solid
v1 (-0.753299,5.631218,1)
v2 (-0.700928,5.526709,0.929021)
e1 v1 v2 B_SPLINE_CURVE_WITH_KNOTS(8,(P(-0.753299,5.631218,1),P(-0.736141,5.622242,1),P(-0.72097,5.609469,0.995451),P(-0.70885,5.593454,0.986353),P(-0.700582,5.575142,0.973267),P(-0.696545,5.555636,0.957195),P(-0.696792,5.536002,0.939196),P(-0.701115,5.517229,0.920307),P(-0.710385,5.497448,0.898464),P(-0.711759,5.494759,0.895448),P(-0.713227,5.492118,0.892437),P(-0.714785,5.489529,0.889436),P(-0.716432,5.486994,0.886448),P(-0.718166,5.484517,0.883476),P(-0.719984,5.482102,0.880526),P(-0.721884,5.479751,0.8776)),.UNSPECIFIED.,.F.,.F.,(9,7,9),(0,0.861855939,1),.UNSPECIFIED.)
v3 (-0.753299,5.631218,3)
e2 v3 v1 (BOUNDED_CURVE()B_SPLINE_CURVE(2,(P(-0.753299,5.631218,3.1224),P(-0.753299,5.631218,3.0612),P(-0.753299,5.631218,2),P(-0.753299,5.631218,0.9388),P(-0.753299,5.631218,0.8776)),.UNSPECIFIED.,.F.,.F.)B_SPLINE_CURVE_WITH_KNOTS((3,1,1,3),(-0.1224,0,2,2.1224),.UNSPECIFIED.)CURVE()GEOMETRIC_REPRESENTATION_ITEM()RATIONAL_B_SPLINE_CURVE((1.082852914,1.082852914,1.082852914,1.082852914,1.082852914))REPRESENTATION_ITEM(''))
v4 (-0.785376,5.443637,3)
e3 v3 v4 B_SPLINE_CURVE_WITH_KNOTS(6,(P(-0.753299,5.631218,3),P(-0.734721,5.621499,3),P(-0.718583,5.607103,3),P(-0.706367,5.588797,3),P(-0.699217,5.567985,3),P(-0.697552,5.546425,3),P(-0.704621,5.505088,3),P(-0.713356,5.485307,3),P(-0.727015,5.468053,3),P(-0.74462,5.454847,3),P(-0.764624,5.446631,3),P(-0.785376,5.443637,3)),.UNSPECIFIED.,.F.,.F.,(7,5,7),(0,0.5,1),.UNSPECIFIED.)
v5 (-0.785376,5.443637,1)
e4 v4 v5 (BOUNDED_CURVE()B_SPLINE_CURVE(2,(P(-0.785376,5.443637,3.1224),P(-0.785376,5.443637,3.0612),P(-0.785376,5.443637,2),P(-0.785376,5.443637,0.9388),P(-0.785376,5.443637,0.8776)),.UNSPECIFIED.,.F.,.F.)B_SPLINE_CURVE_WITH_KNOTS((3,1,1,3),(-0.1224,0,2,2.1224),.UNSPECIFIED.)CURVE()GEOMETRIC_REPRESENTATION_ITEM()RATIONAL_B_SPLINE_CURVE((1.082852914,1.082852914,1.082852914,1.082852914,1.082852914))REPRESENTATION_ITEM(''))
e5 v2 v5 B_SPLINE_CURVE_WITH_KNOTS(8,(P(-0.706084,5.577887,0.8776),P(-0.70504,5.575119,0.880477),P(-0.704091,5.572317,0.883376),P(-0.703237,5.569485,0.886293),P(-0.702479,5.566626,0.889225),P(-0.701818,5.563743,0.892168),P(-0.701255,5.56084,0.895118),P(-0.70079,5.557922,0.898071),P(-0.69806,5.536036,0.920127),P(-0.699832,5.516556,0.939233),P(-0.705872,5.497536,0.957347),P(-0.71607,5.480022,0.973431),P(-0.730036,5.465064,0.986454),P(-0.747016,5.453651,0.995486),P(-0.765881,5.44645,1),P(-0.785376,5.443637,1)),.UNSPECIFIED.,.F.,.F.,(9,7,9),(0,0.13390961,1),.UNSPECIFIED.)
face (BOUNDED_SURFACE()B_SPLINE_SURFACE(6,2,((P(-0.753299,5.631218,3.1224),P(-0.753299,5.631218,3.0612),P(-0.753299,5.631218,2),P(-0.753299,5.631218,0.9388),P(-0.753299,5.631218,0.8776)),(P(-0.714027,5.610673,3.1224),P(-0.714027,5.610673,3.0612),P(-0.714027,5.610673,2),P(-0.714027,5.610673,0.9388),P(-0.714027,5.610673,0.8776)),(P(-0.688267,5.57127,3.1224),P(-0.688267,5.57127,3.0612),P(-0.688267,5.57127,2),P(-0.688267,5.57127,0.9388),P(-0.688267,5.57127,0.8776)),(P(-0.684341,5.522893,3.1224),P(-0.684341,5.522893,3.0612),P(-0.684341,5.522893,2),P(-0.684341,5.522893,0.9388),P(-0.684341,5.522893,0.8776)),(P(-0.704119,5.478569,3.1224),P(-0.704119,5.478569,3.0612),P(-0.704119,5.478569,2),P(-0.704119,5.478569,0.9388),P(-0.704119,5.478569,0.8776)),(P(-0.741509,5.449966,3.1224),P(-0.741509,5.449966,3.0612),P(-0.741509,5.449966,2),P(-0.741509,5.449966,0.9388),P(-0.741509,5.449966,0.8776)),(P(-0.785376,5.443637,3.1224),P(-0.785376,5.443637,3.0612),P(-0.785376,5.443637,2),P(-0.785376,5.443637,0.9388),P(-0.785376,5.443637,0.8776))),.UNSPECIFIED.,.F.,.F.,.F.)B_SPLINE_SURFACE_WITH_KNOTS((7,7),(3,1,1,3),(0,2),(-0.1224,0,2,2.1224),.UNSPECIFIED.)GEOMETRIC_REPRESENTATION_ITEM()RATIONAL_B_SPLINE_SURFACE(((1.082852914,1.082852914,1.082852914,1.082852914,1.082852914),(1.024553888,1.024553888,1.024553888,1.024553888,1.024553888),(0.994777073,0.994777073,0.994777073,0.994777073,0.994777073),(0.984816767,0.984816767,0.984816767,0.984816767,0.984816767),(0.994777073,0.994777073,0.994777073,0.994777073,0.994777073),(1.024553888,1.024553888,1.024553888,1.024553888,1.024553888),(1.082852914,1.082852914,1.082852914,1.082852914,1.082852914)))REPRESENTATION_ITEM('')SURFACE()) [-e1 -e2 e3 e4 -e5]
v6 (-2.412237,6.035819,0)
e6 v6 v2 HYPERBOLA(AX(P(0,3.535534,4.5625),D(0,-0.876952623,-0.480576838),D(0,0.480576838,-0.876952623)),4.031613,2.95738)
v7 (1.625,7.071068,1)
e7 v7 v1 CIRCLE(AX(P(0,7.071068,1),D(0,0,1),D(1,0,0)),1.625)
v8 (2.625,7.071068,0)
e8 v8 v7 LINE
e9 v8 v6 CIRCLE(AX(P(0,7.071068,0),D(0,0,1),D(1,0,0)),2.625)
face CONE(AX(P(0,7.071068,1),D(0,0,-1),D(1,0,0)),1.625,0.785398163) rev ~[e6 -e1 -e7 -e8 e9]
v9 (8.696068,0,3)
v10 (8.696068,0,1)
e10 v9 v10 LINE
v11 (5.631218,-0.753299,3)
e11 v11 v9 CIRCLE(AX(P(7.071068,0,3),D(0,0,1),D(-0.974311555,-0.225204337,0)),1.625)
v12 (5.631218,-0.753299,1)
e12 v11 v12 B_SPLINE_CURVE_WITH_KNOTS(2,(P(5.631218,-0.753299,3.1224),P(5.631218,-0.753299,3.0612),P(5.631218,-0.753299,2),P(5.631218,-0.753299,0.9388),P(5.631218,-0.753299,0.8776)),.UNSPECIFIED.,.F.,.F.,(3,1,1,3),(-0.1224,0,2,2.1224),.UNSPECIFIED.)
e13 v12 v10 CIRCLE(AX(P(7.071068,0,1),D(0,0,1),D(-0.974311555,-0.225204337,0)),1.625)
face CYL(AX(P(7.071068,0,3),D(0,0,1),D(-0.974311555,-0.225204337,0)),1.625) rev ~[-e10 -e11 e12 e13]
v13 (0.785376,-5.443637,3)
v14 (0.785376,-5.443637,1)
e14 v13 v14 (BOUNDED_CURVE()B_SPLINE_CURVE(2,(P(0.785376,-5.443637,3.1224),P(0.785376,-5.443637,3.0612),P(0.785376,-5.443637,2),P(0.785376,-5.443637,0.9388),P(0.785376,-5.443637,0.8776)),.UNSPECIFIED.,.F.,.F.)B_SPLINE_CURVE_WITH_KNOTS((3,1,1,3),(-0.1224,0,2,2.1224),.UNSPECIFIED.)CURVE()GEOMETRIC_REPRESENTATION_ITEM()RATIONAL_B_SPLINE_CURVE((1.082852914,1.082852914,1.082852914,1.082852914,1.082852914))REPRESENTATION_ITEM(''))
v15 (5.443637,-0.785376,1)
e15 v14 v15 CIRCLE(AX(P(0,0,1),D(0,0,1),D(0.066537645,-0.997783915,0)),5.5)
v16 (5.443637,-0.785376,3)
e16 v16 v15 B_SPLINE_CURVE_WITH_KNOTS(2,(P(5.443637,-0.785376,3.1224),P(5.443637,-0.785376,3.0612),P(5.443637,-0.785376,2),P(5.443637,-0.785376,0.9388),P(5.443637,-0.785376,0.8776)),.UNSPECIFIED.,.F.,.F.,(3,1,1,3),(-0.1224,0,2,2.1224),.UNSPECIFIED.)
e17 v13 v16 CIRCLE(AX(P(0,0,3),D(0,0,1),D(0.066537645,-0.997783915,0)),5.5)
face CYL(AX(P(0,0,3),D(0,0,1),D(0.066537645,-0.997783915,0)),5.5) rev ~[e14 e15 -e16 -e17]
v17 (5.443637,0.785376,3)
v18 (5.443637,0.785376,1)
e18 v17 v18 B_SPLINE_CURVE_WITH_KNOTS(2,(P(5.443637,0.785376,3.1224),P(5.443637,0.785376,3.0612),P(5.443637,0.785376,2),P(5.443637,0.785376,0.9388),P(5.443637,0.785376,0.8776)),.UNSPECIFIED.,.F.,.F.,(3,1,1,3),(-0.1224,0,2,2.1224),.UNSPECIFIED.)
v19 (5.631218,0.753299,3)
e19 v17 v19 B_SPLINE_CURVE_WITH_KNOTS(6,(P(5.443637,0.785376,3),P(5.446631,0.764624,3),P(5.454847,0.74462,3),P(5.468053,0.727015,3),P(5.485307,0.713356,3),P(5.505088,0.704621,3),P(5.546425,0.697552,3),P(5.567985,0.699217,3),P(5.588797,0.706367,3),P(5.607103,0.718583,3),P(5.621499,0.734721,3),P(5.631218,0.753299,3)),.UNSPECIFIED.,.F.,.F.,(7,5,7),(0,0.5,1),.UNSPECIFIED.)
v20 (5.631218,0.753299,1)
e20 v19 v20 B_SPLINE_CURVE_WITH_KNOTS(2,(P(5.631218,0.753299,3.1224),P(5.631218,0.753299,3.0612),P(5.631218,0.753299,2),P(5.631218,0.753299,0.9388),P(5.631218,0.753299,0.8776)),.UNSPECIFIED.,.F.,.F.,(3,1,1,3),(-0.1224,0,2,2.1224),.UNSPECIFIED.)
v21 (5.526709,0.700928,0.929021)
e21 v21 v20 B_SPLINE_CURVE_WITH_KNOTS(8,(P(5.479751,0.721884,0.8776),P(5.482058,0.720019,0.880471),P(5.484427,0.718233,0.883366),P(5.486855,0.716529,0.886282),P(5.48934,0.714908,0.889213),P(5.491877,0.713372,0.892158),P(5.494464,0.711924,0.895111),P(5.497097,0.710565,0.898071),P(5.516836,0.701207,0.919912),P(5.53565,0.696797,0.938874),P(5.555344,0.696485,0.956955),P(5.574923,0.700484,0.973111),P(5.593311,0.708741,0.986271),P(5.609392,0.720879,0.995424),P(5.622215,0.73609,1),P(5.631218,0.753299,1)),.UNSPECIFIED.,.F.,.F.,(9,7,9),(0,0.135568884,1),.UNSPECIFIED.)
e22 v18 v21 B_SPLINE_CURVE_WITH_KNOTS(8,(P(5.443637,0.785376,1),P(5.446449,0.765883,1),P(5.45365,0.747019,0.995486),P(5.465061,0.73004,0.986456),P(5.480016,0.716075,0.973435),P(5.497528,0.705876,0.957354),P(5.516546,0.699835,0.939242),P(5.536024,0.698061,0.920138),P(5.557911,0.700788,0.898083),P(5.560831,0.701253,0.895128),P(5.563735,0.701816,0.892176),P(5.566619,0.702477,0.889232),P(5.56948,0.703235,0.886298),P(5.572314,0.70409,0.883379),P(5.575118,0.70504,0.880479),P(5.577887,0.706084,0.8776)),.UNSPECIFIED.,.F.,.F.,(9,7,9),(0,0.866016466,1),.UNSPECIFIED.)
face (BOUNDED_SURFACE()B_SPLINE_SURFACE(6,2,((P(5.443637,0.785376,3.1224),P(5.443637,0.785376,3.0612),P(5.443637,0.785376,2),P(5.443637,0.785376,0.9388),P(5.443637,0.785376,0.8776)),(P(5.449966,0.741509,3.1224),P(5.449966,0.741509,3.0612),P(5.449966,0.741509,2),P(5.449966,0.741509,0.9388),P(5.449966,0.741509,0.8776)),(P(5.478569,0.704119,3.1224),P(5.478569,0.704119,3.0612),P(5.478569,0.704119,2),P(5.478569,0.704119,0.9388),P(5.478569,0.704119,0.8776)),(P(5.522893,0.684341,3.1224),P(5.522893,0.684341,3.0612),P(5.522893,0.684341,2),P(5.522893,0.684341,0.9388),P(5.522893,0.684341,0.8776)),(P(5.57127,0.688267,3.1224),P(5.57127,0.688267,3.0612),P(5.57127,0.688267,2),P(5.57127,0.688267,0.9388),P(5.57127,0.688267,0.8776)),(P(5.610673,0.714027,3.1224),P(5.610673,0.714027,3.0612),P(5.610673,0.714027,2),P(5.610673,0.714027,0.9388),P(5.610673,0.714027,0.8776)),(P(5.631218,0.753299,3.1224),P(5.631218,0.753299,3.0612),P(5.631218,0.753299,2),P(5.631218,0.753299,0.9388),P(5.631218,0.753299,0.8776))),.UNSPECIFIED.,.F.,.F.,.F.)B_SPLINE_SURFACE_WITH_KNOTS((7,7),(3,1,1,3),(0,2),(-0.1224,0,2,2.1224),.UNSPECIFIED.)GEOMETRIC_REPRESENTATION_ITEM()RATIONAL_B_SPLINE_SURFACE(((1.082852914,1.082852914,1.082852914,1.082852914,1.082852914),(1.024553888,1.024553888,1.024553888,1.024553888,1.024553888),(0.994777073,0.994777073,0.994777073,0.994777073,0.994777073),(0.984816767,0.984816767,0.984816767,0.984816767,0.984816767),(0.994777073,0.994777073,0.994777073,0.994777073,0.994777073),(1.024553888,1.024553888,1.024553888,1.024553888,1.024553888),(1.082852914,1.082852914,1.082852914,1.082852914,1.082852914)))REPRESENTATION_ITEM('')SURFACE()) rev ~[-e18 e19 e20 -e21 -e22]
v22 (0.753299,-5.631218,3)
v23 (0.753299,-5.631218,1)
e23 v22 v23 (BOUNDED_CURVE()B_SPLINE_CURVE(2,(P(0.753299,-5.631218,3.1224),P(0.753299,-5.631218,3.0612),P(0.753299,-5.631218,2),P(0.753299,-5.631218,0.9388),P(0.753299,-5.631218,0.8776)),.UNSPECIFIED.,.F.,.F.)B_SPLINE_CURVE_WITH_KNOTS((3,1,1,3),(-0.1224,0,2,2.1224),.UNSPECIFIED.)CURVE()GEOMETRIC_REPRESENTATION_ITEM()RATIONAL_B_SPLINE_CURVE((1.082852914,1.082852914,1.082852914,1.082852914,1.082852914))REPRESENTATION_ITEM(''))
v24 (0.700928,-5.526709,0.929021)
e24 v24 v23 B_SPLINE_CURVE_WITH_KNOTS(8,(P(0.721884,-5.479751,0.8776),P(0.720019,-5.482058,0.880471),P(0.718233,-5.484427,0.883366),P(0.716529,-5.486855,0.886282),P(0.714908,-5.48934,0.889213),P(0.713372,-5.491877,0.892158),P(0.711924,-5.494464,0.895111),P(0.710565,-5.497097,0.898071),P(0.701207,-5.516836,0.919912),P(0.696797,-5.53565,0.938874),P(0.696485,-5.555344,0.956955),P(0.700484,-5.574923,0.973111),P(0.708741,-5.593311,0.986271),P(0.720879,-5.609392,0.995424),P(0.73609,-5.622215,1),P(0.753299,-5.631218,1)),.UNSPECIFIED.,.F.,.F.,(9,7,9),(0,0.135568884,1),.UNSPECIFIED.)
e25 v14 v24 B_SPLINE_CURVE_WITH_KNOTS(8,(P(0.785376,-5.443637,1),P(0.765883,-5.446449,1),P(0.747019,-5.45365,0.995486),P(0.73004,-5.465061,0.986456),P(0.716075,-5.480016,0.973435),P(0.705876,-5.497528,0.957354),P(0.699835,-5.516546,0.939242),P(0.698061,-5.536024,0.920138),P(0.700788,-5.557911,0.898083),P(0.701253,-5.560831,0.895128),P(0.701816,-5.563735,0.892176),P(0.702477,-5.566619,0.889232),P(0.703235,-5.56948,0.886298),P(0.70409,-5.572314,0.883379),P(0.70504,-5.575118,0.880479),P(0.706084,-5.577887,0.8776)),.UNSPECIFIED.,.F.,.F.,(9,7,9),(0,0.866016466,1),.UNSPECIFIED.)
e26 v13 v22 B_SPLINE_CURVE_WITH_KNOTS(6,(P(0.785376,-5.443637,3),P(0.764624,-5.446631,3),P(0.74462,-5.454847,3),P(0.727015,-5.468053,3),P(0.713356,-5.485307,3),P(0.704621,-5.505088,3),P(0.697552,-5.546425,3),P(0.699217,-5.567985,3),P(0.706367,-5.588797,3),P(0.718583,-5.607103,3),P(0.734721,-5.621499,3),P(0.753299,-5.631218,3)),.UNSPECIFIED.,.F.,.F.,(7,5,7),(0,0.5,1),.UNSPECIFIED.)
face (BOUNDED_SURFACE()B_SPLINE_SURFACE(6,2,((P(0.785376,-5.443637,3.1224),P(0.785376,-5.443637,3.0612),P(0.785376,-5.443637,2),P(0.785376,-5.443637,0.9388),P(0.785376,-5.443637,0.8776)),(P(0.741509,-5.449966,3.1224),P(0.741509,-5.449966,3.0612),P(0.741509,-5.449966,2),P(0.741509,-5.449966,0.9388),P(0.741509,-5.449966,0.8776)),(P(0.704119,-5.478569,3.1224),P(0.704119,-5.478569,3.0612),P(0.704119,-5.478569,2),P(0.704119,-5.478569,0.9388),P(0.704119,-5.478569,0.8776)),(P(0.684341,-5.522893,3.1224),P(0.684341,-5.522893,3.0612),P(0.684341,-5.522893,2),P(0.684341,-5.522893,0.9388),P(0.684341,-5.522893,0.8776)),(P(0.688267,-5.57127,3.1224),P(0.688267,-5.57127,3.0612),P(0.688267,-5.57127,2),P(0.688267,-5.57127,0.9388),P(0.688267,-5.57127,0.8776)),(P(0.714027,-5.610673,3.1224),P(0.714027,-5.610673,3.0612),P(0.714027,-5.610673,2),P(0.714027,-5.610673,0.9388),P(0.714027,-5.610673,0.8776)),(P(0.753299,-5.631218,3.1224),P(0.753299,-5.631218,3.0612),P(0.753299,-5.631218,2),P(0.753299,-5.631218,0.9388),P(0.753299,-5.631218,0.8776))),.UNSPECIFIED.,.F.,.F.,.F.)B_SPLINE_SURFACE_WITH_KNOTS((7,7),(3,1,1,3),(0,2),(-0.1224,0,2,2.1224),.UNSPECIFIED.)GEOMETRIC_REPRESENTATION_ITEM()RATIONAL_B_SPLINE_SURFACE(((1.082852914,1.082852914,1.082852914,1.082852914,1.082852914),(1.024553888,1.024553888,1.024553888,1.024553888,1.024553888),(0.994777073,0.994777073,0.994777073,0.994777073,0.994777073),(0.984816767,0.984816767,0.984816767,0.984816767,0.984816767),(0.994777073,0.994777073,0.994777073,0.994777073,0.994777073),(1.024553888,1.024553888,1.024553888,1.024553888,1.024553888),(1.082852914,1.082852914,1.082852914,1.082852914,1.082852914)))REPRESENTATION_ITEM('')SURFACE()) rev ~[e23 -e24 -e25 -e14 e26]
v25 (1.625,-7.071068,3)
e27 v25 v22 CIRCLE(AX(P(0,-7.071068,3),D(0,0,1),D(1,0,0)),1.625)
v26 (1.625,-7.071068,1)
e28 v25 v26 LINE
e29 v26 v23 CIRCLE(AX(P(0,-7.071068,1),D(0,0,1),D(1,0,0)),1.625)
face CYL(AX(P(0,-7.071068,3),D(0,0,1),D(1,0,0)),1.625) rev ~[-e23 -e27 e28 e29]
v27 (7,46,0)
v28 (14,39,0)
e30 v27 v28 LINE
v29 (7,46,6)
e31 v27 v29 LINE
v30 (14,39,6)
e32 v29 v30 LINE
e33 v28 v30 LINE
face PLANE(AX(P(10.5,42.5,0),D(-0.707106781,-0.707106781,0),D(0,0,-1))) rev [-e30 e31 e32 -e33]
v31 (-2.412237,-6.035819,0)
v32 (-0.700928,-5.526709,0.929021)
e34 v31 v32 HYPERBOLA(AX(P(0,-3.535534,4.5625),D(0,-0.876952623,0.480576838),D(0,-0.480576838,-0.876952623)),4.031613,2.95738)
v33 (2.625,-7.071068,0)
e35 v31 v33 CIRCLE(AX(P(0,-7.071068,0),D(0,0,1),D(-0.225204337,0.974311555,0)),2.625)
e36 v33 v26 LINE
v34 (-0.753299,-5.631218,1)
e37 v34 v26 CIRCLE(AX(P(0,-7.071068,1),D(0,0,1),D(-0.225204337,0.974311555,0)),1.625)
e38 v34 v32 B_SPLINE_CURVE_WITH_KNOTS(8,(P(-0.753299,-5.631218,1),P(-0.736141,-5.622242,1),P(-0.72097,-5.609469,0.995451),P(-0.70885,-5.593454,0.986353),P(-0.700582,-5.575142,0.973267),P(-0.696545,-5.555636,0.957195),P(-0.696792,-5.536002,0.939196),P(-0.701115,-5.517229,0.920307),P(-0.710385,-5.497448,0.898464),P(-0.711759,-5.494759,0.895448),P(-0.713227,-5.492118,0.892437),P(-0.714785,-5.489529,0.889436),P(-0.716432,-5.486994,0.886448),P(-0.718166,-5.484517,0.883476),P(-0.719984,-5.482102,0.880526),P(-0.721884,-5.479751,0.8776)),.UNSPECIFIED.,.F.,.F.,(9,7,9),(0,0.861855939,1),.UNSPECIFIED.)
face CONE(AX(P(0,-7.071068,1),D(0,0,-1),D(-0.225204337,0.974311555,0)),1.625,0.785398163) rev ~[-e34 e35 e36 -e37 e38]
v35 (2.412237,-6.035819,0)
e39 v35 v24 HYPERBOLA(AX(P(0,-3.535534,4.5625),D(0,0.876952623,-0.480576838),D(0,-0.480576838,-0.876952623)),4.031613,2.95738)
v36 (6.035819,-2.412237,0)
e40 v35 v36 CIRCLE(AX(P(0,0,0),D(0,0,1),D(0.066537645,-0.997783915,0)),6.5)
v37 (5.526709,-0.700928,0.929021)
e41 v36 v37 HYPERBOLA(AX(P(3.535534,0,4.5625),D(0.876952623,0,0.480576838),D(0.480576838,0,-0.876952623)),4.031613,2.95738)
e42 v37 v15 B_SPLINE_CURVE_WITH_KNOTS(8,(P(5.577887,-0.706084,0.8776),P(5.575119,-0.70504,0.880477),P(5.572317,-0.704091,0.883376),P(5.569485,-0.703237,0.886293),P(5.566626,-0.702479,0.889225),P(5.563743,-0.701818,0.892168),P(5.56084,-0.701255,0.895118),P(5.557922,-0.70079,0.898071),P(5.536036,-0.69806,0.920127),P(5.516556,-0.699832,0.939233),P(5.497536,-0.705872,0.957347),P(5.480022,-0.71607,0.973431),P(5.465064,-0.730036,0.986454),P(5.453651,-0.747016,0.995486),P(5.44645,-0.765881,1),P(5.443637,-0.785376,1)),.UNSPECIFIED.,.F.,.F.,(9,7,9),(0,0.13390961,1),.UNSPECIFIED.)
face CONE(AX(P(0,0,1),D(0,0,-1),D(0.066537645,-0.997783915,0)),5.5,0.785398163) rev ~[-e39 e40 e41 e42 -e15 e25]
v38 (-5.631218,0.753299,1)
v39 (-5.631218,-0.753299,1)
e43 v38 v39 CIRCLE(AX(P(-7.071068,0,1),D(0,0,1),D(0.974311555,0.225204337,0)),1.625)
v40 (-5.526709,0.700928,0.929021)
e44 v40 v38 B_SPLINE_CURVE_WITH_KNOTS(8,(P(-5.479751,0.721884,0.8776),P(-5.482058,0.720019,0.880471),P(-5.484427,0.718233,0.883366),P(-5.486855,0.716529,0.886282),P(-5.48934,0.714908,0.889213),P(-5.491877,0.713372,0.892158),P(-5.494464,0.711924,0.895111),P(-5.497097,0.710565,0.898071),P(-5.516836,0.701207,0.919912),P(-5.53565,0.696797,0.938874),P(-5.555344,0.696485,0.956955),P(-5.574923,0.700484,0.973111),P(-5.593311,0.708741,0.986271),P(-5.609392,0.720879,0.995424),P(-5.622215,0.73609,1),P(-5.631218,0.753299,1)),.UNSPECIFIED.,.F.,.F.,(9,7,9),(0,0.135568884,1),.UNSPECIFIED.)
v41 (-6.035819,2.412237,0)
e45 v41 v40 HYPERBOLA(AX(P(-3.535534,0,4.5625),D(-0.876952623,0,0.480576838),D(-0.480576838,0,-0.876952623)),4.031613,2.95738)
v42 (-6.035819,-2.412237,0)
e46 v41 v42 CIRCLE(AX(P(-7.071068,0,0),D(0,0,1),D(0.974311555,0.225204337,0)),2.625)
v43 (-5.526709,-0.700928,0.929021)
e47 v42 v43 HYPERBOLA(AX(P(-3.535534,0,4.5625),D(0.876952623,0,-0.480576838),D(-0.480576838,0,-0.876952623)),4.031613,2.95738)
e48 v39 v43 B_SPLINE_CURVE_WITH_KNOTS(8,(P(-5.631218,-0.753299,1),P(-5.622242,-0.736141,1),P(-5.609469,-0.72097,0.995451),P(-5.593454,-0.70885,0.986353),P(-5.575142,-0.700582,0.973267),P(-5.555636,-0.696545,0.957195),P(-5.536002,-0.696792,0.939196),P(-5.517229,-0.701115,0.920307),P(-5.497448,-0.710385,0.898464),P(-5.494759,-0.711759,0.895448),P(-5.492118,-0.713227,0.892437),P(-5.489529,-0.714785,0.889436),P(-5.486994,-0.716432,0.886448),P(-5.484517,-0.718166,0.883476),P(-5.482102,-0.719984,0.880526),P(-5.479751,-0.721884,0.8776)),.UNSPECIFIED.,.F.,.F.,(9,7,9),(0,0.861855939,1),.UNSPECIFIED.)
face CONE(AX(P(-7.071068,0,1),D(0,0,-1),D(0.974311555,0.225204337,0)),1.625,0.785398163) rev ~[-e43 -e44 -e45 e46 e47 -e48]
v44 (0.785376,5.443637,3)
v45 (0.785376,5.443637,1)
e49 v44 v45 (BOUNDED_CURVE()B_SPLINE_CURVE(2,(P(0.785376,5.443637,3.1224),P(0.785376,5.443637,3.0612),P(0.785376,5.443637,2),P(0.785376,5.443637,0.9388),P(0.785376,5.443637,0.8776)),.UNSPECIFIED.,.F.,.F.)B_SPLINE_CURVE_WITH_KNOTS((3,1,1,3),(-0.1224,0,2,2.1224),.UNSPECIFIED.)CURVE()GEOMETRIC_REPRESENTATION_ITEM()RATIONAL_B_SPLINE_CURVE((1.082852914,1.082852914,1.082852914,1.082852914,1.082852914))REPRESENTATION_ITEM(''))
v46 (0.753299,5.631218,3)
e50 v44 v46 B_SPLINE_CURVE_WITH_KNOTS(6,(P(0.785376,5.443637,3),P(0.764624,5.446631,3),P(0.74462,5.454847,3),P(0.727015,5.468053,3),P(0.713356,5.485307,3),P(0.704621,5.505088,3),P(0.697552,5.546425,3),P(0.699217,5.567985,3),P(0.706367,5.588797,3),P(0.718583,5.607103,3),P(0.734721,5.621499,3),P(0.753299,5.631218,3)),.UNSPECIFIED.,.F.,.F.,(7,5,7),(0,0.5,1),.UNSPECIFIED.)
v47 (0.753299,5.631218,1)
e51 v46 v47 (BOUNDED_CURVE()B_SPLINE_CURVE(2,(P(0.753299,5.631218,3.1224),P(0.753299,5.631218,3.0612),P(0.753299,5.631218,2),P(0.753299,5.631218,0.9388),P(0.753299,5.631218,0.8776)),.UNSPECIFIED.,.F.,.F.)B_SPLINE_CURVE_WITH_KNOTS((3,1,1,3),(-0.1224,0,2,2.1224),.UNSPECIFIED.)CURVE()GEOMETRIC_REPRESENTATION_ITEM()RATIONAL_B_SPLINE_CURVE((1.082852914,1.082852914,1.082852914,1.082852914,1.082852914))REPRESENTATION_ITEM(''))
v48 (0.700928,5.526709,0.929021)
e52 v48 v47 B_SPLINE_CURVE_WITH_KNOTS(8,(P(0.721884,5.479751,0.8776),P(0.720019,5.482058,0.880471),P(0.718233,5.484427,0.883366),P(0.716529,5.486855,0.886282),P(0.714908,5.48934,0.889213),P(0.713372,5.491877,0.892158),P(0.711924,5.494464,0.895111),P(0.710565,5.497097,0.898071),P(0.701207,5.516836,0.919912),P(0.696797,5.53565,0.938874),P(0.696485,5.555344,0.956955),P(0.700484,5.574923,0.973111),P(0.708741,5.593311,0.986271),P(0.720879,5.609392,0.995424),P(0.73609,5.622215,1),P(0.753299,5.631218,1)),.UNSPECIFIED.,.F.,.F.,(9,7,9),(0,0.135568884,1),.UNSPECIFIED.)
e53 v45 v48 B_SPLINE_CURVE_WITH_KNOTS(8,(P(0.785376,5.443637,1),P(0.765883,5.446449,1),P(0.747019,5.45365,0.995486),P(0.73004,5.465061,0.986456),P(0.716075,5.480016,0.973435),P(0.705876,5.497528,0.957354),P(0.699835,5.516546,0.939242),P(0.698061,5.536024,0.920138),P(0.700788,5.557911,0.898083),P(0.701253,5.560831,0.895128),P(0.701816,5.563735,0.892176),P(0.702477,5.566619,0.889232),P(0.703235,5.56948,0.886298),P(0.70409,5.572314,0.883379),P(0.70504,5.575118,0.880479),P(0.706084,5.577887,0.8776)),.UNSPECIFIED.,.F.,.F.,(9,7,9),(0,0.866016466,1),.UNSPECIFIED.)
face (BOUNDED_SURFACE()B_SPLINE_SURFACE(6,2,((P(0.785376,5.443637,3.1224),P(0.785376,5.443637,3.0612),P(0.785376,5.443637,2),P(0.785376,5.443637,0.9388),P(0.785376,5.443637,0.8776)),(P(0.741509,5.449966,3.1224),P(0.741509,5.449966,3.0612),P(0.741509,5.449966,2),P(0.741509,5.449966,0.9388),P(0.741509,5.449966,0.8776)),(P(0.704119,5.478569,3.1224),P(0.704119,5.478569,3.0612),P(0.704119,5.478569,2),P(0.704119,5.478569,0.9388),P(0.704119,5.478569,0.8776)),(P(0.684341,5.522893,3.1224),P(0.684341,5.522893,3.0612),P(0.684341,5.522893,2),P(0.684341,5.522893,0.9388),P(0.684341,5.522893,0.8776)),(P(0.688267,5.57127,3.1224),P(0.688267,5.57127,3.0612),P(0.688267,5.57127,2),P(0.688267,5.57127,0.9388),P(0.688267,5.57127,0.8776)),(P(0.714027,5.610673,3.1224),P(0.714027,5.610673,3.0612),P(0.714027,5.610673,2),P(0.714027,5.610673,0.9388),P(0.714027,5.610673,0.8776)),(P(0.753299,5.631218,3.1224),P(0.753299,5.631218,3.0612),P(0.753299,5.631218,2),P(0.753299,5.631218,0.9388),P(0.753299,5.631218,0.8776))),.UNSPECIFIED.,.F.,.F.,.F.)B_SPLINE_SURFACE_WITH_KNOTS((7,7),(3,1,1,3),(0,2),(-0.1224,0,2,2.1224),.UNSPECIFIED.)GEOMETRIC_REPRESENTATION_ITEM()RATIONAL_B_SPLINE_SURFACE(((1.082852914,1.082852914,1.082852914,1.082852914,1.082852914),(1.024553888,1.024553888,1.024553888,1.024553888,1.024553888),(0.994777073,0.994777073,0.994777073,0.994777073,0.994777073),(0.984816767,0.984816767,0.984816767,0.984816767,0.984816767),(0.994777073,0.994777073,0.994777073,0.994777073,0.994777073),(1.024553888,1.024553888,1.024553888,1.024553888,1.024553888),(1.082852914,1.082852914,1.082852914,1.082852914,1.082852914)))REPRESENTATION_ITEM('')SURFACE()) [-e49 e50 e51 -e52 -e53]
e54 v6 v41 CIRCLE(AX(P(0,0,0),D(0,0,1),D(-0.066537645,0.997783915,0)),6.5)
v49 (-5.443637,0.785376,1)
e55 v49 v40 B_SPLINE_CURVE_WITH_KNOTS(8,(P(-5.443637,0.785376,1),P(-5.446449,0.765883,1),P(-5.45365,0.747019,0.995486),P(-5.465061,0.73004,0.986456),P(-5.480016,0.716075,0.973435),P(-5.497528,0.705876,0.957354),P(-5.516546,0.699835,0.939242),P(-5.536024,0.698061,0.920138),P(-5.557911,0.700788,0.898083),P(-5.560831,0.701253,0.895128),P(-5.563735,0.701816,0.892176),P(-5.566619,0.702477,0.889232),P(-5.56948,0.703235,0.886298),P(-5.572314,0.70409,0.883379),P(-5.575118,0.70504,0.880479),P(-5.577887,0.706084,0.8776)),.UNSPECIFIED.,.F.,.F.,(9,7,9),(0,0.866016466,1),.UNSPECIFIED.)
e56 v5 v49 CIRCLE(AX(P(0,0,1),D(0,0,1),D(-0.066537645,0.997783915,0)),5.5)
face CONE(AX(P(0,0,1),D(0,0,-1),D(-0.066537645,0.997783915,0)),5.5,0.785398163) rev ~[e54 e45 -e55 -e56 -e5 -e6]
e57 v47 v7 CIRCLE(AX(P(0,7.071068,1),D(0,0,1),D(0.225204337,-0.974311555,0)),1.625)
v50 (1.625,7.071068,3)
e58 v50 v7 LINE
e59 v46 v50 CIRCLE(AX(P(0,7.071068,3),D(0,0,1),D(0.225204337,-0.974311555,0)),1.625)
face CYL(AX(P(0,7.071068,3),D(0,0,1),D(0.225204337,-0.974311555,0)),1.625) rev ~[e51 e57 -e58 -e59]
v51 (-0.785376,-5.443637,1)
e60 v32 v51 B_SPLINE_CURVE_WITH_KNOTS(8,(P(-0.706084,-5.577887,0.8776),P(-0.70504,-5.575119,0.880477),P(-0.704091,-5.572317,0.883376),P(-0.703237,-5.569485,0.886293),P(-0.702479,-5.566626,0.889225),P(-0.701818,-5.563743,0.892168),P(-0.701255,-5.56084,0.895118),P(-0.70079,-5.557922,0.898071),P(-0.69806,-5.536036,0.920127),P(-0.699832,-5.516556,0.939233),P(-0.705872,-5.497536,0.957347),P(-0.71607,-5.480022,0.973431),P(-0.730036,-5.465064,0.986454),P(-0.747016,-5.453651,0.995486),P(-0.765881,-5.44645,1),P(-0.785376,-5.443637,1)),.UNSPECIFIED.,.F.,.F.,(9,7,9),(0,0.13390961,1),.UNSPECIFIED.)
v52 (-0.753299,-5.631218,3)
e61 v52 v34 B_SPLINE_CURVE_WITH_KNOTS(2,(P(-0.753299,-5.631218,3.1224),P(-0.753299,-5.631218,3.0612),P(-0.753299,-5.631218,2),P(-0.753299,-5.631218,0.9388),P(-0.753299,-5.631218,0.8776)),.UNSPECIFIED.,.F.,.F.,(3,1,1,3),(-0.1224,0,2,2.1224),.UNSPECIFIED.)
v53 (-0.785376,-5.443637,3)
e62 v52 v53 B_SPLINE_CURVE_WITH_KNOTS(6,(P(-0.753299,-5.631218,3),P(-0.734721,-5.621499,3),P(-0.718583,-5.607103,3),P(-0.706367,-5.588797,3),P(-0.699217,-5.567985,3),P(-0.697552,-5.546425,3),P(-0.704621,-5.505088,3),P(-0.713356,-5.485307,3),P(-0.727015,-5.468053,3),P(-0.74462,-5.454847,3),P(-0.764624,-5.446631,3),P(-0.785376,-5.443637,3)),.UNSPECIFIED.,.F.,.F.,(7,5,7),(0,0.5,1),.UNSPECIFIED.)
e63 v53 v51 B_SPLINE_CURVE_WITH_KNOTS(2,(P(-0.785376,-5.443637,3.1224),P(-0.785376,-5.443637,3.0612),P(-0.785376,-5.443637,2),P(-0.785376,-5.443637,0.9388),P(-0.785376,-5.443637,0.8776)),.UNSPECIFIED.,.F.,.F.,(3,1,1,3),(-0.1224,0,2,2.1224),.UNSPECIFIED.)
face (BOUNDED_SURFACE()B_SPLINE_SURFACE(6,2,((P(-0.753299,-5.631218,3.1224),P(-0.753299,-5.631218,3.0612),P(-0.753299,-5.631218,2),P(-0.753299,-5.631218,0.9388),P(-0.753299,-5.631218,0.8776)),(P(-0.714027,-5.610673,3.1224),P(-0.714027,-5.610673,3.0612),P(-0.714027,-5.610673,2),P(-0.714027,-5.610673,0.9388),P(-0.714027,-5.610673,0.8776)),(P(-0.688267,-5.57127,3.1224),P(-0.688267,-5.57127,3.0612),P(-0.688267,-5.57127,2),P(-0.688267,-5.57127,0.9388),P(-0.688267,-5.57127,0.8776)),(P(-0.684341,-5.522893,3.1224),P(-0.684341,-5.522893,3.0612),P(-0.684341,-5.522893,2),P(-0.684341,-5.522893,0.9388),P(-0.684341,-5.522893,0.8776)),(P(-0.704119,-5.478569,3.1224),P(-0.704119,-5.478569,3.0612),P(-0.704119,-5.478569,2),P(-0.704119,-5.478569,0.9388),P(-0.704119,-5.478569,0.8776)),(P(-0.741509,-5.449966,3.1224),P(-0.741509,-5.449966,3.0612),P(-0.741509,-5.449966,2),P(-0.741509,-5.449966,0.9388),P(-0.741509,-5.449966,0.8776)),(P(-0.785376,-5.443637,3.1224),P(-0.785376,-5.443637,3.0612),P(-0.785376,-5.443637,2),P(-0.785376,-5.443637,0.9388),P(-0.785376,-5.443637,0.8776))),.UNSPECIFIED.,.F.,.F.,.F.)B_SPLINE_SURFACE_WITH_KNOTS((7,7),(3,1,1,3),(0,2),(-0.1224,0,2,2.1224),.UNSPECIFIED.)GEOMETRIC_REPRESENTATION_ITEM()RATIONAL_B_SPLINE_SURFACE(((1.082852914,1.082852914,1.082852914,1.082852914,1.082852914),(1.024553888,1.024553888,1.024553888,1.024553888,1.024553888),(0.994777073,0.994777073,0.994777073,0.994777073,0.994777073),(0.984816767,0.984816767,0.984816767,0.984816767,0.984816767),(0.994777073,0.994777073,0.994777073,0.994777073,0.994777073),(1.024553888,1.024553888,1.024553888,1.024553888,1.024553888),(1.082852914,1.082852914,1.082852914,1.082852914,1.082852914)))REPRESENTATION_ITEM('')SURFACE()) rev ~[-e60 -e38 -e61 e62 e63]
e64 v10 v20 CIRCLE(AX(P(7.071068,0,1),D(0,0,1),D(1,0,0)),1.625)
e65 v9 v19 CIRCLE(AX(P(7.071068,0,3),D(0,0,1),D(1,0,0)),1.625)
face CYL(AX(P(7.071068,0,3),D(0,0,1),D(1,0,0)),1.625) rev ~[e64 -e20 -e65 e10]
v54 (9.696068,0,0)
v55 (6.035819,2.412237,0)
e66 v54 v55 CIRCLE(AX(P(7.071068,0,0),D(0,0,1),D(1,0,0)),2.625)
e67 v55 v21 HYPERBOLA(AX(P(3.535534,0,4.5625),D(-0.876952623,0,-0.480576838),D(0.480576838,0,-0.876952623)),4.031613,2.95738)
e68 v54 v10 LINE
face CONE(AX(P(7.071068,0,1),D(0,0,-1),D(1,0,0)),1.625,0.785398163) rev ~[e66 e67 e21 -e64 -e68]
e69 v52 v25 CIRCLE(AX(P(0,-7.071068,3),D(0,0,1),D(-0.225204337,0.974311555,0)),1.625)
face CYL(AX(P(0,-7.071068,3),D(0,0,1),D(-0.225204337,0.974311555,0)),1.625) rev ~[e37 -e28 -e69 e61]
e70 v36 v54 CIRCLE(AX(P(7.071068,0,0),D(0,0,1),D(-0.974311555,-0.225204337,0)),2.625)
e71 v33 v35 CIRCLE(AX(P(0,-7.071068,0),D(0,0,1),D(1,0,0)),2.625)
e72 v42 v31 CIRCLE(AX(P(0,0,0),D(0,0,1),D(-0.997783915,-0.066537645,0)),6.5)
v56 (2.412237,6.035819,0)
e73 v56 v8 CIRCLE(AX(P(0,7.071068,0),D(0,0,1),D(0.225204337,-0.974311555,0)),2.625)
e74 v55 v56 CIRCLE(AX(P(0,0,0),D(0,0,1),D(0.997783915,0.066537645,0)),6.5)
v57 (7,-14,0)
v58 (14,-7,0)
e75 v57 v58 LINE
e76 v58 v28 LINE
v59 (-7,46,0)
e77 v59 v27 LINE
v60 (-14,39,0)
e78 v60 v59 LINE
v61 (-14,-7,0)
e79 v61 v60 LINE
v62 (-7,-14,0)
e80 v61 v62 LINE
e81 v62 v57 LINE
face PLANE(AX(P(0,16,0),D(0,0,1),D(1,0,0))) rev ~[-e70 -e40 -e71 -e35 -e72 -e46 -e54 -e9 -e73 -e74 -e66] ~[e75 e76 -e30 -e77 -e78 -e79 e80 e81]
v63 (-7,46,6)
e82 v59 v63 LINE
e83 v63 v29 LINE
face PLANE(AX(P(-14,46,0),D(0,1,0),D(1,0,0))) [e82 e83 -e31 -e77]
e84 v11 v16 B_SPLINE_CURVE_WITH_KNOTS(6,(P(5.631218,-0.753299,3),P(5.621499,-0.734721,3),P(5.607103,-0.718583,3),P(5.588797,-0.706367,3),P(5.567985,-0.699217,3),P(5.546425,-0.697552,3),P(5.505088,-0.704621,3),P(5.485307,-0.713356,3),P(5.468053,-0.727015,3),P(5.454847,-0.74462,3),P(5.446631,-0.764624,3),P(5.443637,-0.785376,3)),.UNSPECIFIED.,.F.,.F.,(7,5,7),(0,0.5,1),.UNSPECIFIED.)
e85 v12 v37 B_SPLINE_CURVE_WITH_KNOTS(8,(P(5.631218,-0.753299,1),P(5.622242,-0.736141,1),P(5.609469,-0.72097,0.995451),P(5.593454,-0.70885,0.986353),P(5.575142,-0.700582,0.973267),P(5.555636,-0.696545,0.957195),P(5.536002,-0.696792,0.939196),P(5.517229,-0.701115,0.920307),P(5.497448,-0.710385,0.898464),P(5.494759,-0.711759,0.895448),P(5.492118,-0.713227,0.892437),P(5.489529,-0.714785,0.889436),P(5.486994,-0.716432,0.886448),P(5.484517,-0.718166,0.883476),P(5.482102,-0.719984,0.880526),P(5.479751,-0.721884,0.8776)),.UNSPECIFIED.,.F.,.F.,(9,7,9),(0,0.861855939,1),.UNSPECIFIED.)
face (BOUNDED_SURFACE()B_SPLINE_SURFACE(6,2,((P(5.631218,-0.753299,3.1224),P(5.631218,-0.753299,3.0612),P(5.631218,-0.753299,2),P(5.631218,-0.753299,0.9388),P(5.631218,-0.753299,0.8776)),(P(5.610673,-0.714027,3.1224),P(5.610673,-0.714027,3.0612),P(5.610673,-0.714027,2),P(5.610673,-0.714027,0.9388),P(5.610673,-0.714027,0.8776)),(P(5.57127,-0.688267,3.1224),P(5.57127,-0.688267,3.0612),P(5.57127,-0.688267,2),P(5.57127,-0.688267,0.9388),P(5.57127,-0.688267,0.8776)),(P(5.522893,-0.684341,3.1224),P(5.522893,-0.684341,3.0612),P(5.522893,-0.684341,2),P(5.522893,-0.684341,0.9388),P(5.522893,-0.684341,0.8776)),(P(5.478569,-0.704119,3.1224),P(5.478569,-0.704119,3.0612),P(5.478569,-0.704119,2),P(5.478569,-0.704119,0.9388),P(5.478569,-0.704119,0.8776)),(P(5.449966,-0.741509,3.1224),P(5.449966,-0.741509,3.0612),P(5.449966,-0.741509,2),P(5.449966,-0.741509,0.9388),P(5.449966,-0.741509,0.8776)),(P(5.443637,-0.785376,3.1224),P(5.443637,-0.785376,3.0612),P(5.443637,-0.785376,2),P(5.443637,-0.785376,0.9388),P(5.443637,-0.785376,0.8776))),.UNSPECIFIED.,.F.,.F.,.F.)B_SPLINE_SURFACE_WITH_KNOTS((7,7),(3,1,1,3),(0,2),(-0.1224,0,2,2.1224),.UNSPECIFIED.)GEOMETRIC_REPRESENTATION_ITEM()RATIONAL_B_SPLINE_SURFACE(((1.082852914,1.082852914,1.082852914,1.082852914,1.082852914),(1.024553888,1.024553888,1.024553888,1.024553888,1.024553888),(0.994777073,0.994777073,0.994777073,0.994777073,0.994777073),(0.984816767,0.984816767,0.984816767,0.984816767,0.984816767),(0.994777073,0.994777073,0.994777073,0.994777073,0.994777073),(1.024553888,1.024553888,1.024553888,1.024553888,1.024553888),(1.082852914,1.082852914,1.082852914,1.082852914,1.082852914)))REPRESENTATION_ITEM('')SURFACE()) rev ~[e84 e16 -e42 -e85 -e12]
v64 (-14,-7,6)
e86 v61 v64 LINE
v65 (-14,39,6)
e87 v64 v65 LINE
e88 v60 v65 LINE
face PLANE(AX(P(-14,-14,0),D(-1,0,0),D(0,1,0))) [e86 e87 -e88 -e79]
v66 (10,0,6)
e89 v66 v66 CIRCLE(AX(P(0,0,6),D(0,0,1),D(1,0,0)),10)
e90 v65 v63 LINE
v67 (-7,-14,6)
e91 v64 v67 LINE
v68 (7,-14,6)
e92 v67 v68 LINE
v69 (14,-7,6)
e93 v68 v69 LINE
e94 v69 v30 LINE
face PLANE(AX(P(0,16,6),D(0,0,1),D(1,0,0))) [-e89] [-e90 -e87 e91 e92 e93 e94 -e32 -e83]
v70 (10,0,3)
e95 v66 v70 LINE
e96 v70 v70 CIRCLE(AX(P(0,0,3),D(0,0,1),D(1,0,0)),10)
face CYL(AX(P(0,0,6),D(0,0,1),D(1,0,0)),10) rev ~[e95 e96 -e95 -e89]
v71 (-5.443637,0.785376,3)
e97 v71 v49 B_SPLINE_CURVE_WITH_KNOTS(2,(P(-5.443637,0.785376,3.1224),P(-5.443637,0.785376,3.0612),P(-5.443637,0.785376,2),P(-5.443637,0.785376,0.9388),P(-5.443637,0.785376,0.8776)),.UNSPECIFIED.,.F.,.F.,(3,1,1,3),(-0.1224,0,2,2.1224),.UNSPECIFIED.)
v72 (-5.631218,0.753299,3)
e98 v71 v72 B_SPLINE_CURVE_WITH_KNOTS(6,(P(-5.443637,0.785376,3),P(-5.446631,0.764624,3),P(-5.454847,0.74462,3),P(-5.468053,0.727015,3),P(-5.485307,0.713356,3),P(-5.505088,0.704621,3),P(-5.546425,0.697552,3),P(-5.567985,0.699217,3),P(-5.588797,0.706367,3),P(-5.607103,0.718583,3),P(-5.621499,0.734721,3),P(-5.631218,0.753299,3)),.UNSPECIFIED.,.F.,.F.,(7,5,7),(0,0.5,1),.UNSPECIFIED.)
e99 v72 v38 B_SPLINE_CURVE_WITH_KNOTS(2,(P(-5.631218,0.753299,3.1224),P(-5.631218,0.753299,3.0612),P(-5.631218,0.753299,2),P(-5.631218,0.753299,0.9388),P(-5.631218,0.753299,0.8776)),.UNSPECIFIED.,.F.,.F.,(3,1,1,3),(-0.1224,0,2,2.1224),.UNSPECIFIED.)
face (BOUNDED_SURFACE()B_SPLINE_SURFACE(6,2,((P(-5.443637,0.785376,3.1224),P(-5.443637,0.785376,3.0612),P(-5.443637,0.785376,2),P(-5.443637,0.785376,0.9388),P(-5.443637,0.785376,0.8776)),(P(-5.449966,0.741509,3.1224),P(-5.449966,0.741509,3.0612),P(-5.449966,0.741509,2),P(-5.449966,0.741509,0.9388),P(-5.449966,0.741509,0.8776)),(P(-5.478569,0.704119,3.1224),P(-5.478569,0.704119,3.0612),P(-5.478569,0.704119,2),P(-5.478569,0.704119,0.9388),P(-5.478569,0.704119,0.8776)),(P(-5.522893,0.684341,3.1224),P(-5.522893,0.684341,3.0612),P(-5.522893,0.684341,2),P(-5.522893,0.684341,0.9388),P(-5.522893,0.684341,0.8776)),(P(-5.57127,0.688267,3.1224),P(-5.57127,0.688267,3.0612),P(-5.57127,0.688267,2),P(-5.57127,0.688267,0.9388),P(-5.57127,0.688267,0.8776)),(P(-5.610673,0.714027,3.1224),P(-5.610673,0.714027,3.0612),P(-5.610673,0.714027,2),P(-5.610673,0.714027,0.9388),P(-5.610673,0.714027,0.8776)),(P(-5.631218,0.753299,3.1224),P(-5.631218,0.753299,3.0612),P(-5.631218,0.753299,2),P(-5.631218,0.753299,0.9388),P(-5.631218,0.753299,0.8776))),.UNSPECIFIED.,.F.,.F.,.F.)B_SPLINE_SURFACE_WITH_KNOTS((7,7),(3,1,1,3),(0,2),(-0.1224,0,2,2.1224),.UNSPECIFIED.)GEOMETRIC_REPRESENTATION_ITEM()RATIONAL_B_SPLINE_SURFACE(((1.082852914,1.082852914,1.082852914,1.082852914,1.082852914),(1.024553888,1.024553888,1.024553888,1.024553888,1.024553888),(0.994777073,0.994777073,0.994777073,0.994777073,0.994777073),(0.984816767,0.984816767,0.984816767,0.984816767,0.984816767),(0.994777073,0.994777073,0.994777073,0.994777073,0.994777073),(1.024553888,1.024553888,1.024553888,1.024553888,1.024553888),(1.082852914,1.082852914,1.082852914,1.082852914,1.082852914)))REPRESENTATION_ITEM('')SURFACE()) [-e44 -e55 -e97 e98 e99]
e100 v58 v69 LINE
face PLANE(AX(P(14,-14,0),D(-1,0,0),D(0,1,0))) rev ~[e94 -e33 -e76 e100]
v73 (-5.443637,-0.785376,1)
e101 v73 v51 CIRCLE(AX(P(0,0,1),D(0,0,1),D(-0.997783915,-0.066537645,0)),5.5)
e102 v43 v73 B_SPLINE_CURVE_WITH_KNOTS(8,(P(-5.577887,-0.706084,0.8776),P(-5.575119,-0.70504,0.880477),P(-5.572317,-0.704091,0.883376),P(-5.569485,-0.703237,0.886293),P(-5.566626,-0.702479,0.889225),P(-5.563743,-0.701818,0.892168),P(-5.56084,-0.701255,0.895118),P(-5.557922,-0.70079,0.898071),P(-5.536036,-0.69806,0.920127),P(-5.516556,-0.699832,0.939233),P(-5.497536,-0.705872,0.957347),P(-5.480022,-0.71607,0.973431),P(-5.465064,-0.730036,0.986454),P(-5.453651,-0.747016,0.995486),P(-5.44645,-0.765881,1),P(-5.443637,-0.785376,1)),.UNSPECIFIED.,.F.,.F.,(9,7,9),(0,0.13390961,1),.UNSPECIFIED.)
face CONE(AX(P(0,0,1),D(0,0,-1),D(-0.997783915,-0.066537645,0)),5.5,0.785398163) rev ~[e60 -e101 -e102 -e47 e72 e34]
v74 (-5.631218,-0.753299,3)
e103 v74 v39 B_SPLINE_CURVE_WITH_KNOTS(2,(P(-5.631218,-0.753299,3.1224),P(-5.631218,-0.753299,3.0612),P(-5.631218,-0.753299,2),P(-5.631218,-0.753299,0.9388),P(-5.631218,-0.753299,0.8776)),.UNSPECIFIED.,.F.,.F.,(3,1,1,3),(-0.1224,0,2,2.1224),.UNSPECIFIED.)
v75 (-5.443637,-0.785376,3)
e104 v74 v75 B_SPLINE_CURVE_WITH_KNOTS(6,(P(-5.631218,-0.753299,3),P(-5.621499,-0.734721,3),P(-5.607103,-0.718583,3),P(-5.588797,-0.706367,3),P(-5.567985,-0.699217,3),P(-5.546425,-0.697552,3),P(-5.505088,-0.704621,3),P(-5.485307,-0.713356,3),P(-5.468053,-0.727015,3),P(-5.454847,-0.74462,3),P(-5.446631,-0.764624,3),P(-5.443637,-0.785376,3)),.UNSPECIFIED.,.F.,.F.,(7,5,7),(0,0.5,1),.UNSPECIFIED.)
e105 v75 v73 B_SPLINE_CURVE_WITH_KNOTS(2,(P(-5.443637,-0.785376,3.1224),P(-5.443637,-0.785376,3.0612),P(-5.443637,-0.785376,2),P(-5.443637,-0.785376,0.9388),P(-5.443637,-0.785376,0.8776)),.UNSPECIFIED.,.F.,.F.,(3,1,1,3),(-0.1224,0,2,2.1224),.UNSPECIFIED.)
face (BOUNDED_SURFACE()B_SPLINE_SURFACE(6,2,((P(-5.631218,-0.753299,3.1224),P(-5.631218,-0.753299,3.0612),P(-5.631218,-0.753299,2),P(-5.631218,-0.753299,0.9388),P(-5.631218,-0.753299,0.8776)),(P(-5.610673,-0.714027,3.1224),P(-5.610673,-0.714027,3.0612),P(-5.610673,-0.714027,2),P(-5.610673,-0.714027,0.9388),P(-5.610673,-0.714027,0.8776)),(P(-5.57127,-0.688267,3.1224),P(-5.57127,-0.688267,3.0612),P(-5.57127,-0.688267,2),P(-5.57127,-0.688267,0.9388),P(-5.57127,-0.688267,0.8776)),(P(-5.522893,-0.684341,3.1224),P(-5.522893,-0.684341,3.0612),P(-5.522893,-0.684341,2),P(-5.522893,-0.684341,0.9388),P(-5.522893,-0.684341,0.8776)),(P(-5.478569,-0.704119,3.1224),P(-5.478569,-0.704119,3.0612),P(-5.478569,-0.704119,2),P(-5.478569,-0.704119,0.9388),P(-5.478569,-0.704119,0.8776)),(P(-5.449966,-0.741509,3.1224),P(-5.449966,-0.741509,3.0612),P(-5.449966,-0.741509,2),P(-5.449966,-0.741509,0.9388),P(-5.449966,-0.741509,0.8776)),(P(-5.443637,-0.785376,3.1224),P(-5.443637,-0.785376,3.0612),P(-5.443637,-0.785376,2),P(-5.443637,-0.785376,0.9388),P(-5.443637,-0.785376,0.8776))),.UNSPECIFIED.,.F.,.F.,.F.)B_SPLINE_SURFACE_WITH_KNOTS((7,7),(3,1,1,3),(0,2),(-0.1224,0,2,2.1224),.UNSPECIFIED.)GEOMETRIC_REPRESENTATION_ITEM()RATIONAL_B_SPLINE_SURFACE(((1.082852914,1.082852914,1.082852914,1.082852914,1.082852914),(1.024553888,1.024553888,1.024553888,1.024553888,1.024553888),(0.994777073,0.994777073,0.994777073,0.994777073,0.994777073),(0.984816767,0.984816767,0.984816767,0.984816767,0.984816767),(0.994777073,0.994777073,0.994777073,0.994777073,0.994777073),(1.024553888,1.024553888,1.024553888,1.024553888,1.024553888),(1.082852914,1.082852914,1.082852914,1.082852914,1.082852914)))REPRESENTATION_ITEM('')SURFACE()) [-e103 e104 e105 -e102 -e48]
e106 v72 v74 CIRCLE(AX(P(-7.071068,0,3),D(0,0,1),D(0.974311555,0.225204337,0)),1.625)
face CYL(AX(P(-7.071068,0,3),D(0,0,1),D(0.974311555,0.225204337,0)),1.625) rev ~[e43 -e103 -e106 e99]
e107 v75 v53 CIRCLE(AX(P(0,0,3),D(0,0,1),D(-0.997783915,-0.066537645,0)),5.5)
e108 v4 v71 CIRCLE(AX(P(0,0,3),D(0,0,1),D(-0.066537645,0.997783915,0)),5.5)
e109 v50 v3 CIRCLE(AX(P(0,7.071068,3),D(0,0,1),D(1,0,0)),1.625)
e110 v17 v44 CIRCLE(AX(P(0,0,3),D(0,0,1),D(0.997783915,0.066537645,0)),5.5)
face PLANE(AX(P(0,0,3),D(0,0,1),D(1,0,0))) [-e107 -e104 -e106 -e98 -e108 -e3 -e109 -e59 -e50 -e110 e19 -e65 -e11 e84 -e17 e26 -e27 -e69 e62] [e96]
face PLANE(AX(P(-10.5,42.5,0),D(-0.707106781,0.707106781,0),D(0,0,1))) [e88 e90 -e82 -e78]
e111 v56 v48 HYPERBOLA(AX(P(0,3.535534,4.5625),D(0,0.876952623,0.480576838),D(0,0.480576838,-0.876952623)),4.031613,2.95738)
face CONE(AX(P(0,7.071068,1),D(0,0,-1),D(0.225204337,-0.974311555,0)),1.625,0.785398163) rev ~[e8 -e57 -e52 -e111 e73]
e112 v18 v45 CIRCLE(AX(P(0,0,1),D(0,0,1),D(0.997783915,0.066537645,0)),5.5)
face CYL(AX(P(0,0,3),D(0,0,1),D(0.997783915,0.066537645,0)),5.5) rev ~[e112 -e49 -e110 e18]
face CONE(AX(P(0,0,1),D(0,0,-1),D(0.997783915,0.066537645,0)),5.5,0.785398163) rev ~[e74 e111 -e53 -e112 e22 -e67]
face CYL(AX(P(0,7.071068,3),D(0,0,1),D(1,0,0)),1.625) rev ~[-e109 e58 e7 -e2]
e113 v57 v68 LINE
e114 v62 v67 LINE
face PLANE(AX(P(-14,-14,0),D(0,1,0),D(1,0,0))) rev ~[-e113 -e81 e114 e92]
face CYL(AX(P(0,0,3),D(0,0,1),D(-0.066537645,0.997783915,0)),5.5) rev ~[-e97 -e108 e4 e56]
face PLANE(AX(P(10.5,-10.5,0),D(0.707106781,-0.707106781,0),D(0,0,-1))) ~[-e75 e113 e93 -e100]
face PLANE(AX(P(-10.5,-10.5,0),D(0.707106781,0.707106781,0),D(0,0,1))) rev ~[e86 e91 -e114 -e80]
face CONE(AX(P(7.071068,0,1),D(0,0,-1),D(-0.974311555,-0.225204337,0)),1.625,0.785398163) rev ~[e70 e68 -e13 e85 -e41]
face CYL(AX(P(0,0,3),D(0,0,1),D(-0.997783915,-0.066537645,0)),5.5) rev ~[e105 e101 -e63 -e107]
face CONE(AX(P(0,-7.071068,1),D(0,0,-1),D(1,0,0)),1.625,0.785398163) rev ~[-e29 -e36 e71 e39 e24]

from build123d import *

# Parameters (mm, degrees)
F0_W     = 28
F0_H     = 60
F1_DEPTH = 6
F2_R     = 10
F3_DEPTH = 3
F5_DEPTH = 3.001
F6_SIZE  = 1
F7_SIZE  = 7
F8_R     = 0.1


with BuildPart() as f1:
    # F0 (on Top) → F1 (new body)
    with BuildSketch(Plane.XY):
        with Locations((0, 16)):
            Rectangle(F0_W, F0_H)
    extrude(amount=F1_DEPTH)

    # F2 (on face) → F3 (cut)
    with BuildSketch(Plane.XY.offset(6)):
        Circle(F2_R)
    extrude(amount=-F3_DEPTH, mode=Mode.SUBTRACT)

    # F4 (on face) → F5 (cut, through all)
    with BuildSketch(Plane.XY.offset(3)):
        with BuildLine():
            ThreePointArc((5.4878115346, -0.3659570474), (5.4969520391, -0.183079982), (5.5, 0))
            ThreePointArc((5.5, 0), (5.4969520391, 0.183079982), (5.4878115346, 0.3659570474))
            ThreePointArc((5.4878115346, 0.3659570474), (5.4460678119, 0), (5.4878115346, -0.3659570474))
        make_face()
        with BuildLine():
            ThreePointArc((5.4878115346, 0.3659570474), (5.4969520391, 0.183079982), (5.5, 0))
            ThreePointArc((5.5, 0), (5.4969520391, -0.183079982), (5.4878115346, -0.3659570474))
            ThreePointArc((5.4878115346, -0.3659570474), (7.2552328866, -1.614530342), (8.6960678119, 0))
            ThreePointArc((8.6960678119, 0), (7.2552328866, 1.614530342), (5.4878115346, 0.3659570474))
        make_face()
        with BuildLine():
            ThreePointArc((5.4878115346, -0.3659570474), (5.4460678119, 0), (5.4878115346, 0.3659570474))
            ThreePointArc((5.4878115346, 0.3659570474), (3.8890872965, 3.8890872965), (0.3659570474, 5.4878115346))
            ThreePointArc((0.3659570474, 5.4878115346), (0, 5.4460678119), (-0.3659570474, 5.4878115346))
            ThreePointArc((-0.3659570474, 5.4878115346), (-3.8890872965, 3.8890872965), (-5.4878115346, 0.3659570474))
            ThreePointArc((-5.4878115346, 0.3659570474), (-5.4565374699, 0.1841650747), (-5.4460678119, 0))
            ThreePointArc((-5.4460678119, 0), (-5.4565374699, -0.1841650747), (-5.4878115346, -0.3659570474))
            ThreePointArc((-5.4878115346, -0.3659570474), (-3.8890872965, -3.8890872965), (-0.3659570474, -5.4878115346))
            ThreePointArc((-0.3659570474, -5.4878115346), (0, -5.4460678119), (0.3659570474, -5.4878115346))
            ThreePointArc((0.3659570474, -5.4878115346), (3.8890872965, -3.8890872965), (5.4878115346, -0.3659570474))
        make_face()
        with BuildLine():
            ThreePointArc((-0.3659570474, 5.4878115346), (0, 5.4460678119), (0.3659570474, 5.4878115346))
            ThreePointArc((0.3659570474, 5.4878115346), (0, 5.5), (-0.3659570474, 5.4878115346))
        make_face()
        with BuildLine():
            ThreePointArc((-0.3659570474, 5.4878115346), (0, 5.5), (0.3659570474, 5.4878115346))
            ThreePointArc((0.3659570474, 5.4878115346), (1.2718697264, 6.0596468318), (1.625, 7.0710678119))
            ThreePointArc((1.625, 7.0710678119), (-1.0114209801, 8.3429375383), (-0.3659570474, 5.4878115346))
        make_face()
        with BuildLine():
            ThreePointArc((1.625, -7.0710678119), (1.2718697264, -6.0596468318), (0.3659570474, -5.4878115346))
            ThreePointArc((0.3659570474, -5.4878115346), (0, -5.5), (-0.3659570474, -5.4878115346))
            ThreePointArc((-0.3659570474, -5.4878115346), (-1.0114209801, -8.3429375383), (1.625, -7.0710678119))
        make_face()
        with BuildLine():
            ThreePointArc((-0.3659570474, -5.4878115346), (0, -5.5), (0.3659570474, -5.4878115346))
            ThreePointArc((0.3659570474, -5.4878115346), (0, -5.4460678119), (-0.3659570474, -5.4878115346))
        make_face()
        with BuildLine():
            ThreePointArc((-5.4460678119, 0), (-5.4565374699, 0.1841650747), (-5.4878115346, 0.3659570474))
            ThreePointArc((-5.4878115346, 0.3659570474), (-5.5, 0), (-5.4878115346, -0.3659570474))
            ThreePointArc((-5.4878115346, -0.3659570474), (-5.4565374699, -0.1841650747), (-5.4460678119, 0))
        make_face()
        with BuildLine():
            ThreePointArc((-5.4878115346, -0.3659570474), (-5.5, 0), (-5.4878115346, 0.3659570474))
            ThreePointArc((-5.4878115346, 0.3659570474), (-8.6960678119, 0), (-5.4878115346, -0.3659570474))
        make_face()
    extrude(amount=-F5_DEPTH, mode=Mode.SUBTRACT)

    # F6
    f6_edges = [f1.edges().sort_by_distance(p)[0] for p in [
        (3.889087, 3.889087, 0),
        (-3.889087, 3.889087, 0),
        (-3.889087, -3.889087, 0),
        (3.889087, -3.889087, 0),
        (0, -8.696068, 0),
        (8.696068, 0, 0),
        (-8.696068, 0, 0),
        (0, 8.696068, 0),
    ]]
    chamfer(f6_edges, length=F6_SIZE)

    # F7
    f7_edges = [f1.edges().sort_by_distance(p)[0] for p in [
        (14, -14, 3),
        (-14, -14, 3),
        (14, 46, 3),
        (-14, 46, 3),
    ]]
    chamfer(f7_edges, length=F7_SIZE)

    # F8
    f8_edges = [f1.edges().sort_by_distance(p)[0] for p in [
        (-0.365957, 5.487812, 2),
        (-5.487812, 0.365957, 2),
        (-5.487812, -0.365957, 2),
        (0.365957, 5.487812, 2),
        (5.487812, 0.365957, 2),
        (5.487812, -0.365957, 2),
        (-0.365957, -5.487812, 2),
        (0.365957, -5.487812, 2),
    ]]
    fillet(f8_edges, radius=F8_R)


solid = f1.part
